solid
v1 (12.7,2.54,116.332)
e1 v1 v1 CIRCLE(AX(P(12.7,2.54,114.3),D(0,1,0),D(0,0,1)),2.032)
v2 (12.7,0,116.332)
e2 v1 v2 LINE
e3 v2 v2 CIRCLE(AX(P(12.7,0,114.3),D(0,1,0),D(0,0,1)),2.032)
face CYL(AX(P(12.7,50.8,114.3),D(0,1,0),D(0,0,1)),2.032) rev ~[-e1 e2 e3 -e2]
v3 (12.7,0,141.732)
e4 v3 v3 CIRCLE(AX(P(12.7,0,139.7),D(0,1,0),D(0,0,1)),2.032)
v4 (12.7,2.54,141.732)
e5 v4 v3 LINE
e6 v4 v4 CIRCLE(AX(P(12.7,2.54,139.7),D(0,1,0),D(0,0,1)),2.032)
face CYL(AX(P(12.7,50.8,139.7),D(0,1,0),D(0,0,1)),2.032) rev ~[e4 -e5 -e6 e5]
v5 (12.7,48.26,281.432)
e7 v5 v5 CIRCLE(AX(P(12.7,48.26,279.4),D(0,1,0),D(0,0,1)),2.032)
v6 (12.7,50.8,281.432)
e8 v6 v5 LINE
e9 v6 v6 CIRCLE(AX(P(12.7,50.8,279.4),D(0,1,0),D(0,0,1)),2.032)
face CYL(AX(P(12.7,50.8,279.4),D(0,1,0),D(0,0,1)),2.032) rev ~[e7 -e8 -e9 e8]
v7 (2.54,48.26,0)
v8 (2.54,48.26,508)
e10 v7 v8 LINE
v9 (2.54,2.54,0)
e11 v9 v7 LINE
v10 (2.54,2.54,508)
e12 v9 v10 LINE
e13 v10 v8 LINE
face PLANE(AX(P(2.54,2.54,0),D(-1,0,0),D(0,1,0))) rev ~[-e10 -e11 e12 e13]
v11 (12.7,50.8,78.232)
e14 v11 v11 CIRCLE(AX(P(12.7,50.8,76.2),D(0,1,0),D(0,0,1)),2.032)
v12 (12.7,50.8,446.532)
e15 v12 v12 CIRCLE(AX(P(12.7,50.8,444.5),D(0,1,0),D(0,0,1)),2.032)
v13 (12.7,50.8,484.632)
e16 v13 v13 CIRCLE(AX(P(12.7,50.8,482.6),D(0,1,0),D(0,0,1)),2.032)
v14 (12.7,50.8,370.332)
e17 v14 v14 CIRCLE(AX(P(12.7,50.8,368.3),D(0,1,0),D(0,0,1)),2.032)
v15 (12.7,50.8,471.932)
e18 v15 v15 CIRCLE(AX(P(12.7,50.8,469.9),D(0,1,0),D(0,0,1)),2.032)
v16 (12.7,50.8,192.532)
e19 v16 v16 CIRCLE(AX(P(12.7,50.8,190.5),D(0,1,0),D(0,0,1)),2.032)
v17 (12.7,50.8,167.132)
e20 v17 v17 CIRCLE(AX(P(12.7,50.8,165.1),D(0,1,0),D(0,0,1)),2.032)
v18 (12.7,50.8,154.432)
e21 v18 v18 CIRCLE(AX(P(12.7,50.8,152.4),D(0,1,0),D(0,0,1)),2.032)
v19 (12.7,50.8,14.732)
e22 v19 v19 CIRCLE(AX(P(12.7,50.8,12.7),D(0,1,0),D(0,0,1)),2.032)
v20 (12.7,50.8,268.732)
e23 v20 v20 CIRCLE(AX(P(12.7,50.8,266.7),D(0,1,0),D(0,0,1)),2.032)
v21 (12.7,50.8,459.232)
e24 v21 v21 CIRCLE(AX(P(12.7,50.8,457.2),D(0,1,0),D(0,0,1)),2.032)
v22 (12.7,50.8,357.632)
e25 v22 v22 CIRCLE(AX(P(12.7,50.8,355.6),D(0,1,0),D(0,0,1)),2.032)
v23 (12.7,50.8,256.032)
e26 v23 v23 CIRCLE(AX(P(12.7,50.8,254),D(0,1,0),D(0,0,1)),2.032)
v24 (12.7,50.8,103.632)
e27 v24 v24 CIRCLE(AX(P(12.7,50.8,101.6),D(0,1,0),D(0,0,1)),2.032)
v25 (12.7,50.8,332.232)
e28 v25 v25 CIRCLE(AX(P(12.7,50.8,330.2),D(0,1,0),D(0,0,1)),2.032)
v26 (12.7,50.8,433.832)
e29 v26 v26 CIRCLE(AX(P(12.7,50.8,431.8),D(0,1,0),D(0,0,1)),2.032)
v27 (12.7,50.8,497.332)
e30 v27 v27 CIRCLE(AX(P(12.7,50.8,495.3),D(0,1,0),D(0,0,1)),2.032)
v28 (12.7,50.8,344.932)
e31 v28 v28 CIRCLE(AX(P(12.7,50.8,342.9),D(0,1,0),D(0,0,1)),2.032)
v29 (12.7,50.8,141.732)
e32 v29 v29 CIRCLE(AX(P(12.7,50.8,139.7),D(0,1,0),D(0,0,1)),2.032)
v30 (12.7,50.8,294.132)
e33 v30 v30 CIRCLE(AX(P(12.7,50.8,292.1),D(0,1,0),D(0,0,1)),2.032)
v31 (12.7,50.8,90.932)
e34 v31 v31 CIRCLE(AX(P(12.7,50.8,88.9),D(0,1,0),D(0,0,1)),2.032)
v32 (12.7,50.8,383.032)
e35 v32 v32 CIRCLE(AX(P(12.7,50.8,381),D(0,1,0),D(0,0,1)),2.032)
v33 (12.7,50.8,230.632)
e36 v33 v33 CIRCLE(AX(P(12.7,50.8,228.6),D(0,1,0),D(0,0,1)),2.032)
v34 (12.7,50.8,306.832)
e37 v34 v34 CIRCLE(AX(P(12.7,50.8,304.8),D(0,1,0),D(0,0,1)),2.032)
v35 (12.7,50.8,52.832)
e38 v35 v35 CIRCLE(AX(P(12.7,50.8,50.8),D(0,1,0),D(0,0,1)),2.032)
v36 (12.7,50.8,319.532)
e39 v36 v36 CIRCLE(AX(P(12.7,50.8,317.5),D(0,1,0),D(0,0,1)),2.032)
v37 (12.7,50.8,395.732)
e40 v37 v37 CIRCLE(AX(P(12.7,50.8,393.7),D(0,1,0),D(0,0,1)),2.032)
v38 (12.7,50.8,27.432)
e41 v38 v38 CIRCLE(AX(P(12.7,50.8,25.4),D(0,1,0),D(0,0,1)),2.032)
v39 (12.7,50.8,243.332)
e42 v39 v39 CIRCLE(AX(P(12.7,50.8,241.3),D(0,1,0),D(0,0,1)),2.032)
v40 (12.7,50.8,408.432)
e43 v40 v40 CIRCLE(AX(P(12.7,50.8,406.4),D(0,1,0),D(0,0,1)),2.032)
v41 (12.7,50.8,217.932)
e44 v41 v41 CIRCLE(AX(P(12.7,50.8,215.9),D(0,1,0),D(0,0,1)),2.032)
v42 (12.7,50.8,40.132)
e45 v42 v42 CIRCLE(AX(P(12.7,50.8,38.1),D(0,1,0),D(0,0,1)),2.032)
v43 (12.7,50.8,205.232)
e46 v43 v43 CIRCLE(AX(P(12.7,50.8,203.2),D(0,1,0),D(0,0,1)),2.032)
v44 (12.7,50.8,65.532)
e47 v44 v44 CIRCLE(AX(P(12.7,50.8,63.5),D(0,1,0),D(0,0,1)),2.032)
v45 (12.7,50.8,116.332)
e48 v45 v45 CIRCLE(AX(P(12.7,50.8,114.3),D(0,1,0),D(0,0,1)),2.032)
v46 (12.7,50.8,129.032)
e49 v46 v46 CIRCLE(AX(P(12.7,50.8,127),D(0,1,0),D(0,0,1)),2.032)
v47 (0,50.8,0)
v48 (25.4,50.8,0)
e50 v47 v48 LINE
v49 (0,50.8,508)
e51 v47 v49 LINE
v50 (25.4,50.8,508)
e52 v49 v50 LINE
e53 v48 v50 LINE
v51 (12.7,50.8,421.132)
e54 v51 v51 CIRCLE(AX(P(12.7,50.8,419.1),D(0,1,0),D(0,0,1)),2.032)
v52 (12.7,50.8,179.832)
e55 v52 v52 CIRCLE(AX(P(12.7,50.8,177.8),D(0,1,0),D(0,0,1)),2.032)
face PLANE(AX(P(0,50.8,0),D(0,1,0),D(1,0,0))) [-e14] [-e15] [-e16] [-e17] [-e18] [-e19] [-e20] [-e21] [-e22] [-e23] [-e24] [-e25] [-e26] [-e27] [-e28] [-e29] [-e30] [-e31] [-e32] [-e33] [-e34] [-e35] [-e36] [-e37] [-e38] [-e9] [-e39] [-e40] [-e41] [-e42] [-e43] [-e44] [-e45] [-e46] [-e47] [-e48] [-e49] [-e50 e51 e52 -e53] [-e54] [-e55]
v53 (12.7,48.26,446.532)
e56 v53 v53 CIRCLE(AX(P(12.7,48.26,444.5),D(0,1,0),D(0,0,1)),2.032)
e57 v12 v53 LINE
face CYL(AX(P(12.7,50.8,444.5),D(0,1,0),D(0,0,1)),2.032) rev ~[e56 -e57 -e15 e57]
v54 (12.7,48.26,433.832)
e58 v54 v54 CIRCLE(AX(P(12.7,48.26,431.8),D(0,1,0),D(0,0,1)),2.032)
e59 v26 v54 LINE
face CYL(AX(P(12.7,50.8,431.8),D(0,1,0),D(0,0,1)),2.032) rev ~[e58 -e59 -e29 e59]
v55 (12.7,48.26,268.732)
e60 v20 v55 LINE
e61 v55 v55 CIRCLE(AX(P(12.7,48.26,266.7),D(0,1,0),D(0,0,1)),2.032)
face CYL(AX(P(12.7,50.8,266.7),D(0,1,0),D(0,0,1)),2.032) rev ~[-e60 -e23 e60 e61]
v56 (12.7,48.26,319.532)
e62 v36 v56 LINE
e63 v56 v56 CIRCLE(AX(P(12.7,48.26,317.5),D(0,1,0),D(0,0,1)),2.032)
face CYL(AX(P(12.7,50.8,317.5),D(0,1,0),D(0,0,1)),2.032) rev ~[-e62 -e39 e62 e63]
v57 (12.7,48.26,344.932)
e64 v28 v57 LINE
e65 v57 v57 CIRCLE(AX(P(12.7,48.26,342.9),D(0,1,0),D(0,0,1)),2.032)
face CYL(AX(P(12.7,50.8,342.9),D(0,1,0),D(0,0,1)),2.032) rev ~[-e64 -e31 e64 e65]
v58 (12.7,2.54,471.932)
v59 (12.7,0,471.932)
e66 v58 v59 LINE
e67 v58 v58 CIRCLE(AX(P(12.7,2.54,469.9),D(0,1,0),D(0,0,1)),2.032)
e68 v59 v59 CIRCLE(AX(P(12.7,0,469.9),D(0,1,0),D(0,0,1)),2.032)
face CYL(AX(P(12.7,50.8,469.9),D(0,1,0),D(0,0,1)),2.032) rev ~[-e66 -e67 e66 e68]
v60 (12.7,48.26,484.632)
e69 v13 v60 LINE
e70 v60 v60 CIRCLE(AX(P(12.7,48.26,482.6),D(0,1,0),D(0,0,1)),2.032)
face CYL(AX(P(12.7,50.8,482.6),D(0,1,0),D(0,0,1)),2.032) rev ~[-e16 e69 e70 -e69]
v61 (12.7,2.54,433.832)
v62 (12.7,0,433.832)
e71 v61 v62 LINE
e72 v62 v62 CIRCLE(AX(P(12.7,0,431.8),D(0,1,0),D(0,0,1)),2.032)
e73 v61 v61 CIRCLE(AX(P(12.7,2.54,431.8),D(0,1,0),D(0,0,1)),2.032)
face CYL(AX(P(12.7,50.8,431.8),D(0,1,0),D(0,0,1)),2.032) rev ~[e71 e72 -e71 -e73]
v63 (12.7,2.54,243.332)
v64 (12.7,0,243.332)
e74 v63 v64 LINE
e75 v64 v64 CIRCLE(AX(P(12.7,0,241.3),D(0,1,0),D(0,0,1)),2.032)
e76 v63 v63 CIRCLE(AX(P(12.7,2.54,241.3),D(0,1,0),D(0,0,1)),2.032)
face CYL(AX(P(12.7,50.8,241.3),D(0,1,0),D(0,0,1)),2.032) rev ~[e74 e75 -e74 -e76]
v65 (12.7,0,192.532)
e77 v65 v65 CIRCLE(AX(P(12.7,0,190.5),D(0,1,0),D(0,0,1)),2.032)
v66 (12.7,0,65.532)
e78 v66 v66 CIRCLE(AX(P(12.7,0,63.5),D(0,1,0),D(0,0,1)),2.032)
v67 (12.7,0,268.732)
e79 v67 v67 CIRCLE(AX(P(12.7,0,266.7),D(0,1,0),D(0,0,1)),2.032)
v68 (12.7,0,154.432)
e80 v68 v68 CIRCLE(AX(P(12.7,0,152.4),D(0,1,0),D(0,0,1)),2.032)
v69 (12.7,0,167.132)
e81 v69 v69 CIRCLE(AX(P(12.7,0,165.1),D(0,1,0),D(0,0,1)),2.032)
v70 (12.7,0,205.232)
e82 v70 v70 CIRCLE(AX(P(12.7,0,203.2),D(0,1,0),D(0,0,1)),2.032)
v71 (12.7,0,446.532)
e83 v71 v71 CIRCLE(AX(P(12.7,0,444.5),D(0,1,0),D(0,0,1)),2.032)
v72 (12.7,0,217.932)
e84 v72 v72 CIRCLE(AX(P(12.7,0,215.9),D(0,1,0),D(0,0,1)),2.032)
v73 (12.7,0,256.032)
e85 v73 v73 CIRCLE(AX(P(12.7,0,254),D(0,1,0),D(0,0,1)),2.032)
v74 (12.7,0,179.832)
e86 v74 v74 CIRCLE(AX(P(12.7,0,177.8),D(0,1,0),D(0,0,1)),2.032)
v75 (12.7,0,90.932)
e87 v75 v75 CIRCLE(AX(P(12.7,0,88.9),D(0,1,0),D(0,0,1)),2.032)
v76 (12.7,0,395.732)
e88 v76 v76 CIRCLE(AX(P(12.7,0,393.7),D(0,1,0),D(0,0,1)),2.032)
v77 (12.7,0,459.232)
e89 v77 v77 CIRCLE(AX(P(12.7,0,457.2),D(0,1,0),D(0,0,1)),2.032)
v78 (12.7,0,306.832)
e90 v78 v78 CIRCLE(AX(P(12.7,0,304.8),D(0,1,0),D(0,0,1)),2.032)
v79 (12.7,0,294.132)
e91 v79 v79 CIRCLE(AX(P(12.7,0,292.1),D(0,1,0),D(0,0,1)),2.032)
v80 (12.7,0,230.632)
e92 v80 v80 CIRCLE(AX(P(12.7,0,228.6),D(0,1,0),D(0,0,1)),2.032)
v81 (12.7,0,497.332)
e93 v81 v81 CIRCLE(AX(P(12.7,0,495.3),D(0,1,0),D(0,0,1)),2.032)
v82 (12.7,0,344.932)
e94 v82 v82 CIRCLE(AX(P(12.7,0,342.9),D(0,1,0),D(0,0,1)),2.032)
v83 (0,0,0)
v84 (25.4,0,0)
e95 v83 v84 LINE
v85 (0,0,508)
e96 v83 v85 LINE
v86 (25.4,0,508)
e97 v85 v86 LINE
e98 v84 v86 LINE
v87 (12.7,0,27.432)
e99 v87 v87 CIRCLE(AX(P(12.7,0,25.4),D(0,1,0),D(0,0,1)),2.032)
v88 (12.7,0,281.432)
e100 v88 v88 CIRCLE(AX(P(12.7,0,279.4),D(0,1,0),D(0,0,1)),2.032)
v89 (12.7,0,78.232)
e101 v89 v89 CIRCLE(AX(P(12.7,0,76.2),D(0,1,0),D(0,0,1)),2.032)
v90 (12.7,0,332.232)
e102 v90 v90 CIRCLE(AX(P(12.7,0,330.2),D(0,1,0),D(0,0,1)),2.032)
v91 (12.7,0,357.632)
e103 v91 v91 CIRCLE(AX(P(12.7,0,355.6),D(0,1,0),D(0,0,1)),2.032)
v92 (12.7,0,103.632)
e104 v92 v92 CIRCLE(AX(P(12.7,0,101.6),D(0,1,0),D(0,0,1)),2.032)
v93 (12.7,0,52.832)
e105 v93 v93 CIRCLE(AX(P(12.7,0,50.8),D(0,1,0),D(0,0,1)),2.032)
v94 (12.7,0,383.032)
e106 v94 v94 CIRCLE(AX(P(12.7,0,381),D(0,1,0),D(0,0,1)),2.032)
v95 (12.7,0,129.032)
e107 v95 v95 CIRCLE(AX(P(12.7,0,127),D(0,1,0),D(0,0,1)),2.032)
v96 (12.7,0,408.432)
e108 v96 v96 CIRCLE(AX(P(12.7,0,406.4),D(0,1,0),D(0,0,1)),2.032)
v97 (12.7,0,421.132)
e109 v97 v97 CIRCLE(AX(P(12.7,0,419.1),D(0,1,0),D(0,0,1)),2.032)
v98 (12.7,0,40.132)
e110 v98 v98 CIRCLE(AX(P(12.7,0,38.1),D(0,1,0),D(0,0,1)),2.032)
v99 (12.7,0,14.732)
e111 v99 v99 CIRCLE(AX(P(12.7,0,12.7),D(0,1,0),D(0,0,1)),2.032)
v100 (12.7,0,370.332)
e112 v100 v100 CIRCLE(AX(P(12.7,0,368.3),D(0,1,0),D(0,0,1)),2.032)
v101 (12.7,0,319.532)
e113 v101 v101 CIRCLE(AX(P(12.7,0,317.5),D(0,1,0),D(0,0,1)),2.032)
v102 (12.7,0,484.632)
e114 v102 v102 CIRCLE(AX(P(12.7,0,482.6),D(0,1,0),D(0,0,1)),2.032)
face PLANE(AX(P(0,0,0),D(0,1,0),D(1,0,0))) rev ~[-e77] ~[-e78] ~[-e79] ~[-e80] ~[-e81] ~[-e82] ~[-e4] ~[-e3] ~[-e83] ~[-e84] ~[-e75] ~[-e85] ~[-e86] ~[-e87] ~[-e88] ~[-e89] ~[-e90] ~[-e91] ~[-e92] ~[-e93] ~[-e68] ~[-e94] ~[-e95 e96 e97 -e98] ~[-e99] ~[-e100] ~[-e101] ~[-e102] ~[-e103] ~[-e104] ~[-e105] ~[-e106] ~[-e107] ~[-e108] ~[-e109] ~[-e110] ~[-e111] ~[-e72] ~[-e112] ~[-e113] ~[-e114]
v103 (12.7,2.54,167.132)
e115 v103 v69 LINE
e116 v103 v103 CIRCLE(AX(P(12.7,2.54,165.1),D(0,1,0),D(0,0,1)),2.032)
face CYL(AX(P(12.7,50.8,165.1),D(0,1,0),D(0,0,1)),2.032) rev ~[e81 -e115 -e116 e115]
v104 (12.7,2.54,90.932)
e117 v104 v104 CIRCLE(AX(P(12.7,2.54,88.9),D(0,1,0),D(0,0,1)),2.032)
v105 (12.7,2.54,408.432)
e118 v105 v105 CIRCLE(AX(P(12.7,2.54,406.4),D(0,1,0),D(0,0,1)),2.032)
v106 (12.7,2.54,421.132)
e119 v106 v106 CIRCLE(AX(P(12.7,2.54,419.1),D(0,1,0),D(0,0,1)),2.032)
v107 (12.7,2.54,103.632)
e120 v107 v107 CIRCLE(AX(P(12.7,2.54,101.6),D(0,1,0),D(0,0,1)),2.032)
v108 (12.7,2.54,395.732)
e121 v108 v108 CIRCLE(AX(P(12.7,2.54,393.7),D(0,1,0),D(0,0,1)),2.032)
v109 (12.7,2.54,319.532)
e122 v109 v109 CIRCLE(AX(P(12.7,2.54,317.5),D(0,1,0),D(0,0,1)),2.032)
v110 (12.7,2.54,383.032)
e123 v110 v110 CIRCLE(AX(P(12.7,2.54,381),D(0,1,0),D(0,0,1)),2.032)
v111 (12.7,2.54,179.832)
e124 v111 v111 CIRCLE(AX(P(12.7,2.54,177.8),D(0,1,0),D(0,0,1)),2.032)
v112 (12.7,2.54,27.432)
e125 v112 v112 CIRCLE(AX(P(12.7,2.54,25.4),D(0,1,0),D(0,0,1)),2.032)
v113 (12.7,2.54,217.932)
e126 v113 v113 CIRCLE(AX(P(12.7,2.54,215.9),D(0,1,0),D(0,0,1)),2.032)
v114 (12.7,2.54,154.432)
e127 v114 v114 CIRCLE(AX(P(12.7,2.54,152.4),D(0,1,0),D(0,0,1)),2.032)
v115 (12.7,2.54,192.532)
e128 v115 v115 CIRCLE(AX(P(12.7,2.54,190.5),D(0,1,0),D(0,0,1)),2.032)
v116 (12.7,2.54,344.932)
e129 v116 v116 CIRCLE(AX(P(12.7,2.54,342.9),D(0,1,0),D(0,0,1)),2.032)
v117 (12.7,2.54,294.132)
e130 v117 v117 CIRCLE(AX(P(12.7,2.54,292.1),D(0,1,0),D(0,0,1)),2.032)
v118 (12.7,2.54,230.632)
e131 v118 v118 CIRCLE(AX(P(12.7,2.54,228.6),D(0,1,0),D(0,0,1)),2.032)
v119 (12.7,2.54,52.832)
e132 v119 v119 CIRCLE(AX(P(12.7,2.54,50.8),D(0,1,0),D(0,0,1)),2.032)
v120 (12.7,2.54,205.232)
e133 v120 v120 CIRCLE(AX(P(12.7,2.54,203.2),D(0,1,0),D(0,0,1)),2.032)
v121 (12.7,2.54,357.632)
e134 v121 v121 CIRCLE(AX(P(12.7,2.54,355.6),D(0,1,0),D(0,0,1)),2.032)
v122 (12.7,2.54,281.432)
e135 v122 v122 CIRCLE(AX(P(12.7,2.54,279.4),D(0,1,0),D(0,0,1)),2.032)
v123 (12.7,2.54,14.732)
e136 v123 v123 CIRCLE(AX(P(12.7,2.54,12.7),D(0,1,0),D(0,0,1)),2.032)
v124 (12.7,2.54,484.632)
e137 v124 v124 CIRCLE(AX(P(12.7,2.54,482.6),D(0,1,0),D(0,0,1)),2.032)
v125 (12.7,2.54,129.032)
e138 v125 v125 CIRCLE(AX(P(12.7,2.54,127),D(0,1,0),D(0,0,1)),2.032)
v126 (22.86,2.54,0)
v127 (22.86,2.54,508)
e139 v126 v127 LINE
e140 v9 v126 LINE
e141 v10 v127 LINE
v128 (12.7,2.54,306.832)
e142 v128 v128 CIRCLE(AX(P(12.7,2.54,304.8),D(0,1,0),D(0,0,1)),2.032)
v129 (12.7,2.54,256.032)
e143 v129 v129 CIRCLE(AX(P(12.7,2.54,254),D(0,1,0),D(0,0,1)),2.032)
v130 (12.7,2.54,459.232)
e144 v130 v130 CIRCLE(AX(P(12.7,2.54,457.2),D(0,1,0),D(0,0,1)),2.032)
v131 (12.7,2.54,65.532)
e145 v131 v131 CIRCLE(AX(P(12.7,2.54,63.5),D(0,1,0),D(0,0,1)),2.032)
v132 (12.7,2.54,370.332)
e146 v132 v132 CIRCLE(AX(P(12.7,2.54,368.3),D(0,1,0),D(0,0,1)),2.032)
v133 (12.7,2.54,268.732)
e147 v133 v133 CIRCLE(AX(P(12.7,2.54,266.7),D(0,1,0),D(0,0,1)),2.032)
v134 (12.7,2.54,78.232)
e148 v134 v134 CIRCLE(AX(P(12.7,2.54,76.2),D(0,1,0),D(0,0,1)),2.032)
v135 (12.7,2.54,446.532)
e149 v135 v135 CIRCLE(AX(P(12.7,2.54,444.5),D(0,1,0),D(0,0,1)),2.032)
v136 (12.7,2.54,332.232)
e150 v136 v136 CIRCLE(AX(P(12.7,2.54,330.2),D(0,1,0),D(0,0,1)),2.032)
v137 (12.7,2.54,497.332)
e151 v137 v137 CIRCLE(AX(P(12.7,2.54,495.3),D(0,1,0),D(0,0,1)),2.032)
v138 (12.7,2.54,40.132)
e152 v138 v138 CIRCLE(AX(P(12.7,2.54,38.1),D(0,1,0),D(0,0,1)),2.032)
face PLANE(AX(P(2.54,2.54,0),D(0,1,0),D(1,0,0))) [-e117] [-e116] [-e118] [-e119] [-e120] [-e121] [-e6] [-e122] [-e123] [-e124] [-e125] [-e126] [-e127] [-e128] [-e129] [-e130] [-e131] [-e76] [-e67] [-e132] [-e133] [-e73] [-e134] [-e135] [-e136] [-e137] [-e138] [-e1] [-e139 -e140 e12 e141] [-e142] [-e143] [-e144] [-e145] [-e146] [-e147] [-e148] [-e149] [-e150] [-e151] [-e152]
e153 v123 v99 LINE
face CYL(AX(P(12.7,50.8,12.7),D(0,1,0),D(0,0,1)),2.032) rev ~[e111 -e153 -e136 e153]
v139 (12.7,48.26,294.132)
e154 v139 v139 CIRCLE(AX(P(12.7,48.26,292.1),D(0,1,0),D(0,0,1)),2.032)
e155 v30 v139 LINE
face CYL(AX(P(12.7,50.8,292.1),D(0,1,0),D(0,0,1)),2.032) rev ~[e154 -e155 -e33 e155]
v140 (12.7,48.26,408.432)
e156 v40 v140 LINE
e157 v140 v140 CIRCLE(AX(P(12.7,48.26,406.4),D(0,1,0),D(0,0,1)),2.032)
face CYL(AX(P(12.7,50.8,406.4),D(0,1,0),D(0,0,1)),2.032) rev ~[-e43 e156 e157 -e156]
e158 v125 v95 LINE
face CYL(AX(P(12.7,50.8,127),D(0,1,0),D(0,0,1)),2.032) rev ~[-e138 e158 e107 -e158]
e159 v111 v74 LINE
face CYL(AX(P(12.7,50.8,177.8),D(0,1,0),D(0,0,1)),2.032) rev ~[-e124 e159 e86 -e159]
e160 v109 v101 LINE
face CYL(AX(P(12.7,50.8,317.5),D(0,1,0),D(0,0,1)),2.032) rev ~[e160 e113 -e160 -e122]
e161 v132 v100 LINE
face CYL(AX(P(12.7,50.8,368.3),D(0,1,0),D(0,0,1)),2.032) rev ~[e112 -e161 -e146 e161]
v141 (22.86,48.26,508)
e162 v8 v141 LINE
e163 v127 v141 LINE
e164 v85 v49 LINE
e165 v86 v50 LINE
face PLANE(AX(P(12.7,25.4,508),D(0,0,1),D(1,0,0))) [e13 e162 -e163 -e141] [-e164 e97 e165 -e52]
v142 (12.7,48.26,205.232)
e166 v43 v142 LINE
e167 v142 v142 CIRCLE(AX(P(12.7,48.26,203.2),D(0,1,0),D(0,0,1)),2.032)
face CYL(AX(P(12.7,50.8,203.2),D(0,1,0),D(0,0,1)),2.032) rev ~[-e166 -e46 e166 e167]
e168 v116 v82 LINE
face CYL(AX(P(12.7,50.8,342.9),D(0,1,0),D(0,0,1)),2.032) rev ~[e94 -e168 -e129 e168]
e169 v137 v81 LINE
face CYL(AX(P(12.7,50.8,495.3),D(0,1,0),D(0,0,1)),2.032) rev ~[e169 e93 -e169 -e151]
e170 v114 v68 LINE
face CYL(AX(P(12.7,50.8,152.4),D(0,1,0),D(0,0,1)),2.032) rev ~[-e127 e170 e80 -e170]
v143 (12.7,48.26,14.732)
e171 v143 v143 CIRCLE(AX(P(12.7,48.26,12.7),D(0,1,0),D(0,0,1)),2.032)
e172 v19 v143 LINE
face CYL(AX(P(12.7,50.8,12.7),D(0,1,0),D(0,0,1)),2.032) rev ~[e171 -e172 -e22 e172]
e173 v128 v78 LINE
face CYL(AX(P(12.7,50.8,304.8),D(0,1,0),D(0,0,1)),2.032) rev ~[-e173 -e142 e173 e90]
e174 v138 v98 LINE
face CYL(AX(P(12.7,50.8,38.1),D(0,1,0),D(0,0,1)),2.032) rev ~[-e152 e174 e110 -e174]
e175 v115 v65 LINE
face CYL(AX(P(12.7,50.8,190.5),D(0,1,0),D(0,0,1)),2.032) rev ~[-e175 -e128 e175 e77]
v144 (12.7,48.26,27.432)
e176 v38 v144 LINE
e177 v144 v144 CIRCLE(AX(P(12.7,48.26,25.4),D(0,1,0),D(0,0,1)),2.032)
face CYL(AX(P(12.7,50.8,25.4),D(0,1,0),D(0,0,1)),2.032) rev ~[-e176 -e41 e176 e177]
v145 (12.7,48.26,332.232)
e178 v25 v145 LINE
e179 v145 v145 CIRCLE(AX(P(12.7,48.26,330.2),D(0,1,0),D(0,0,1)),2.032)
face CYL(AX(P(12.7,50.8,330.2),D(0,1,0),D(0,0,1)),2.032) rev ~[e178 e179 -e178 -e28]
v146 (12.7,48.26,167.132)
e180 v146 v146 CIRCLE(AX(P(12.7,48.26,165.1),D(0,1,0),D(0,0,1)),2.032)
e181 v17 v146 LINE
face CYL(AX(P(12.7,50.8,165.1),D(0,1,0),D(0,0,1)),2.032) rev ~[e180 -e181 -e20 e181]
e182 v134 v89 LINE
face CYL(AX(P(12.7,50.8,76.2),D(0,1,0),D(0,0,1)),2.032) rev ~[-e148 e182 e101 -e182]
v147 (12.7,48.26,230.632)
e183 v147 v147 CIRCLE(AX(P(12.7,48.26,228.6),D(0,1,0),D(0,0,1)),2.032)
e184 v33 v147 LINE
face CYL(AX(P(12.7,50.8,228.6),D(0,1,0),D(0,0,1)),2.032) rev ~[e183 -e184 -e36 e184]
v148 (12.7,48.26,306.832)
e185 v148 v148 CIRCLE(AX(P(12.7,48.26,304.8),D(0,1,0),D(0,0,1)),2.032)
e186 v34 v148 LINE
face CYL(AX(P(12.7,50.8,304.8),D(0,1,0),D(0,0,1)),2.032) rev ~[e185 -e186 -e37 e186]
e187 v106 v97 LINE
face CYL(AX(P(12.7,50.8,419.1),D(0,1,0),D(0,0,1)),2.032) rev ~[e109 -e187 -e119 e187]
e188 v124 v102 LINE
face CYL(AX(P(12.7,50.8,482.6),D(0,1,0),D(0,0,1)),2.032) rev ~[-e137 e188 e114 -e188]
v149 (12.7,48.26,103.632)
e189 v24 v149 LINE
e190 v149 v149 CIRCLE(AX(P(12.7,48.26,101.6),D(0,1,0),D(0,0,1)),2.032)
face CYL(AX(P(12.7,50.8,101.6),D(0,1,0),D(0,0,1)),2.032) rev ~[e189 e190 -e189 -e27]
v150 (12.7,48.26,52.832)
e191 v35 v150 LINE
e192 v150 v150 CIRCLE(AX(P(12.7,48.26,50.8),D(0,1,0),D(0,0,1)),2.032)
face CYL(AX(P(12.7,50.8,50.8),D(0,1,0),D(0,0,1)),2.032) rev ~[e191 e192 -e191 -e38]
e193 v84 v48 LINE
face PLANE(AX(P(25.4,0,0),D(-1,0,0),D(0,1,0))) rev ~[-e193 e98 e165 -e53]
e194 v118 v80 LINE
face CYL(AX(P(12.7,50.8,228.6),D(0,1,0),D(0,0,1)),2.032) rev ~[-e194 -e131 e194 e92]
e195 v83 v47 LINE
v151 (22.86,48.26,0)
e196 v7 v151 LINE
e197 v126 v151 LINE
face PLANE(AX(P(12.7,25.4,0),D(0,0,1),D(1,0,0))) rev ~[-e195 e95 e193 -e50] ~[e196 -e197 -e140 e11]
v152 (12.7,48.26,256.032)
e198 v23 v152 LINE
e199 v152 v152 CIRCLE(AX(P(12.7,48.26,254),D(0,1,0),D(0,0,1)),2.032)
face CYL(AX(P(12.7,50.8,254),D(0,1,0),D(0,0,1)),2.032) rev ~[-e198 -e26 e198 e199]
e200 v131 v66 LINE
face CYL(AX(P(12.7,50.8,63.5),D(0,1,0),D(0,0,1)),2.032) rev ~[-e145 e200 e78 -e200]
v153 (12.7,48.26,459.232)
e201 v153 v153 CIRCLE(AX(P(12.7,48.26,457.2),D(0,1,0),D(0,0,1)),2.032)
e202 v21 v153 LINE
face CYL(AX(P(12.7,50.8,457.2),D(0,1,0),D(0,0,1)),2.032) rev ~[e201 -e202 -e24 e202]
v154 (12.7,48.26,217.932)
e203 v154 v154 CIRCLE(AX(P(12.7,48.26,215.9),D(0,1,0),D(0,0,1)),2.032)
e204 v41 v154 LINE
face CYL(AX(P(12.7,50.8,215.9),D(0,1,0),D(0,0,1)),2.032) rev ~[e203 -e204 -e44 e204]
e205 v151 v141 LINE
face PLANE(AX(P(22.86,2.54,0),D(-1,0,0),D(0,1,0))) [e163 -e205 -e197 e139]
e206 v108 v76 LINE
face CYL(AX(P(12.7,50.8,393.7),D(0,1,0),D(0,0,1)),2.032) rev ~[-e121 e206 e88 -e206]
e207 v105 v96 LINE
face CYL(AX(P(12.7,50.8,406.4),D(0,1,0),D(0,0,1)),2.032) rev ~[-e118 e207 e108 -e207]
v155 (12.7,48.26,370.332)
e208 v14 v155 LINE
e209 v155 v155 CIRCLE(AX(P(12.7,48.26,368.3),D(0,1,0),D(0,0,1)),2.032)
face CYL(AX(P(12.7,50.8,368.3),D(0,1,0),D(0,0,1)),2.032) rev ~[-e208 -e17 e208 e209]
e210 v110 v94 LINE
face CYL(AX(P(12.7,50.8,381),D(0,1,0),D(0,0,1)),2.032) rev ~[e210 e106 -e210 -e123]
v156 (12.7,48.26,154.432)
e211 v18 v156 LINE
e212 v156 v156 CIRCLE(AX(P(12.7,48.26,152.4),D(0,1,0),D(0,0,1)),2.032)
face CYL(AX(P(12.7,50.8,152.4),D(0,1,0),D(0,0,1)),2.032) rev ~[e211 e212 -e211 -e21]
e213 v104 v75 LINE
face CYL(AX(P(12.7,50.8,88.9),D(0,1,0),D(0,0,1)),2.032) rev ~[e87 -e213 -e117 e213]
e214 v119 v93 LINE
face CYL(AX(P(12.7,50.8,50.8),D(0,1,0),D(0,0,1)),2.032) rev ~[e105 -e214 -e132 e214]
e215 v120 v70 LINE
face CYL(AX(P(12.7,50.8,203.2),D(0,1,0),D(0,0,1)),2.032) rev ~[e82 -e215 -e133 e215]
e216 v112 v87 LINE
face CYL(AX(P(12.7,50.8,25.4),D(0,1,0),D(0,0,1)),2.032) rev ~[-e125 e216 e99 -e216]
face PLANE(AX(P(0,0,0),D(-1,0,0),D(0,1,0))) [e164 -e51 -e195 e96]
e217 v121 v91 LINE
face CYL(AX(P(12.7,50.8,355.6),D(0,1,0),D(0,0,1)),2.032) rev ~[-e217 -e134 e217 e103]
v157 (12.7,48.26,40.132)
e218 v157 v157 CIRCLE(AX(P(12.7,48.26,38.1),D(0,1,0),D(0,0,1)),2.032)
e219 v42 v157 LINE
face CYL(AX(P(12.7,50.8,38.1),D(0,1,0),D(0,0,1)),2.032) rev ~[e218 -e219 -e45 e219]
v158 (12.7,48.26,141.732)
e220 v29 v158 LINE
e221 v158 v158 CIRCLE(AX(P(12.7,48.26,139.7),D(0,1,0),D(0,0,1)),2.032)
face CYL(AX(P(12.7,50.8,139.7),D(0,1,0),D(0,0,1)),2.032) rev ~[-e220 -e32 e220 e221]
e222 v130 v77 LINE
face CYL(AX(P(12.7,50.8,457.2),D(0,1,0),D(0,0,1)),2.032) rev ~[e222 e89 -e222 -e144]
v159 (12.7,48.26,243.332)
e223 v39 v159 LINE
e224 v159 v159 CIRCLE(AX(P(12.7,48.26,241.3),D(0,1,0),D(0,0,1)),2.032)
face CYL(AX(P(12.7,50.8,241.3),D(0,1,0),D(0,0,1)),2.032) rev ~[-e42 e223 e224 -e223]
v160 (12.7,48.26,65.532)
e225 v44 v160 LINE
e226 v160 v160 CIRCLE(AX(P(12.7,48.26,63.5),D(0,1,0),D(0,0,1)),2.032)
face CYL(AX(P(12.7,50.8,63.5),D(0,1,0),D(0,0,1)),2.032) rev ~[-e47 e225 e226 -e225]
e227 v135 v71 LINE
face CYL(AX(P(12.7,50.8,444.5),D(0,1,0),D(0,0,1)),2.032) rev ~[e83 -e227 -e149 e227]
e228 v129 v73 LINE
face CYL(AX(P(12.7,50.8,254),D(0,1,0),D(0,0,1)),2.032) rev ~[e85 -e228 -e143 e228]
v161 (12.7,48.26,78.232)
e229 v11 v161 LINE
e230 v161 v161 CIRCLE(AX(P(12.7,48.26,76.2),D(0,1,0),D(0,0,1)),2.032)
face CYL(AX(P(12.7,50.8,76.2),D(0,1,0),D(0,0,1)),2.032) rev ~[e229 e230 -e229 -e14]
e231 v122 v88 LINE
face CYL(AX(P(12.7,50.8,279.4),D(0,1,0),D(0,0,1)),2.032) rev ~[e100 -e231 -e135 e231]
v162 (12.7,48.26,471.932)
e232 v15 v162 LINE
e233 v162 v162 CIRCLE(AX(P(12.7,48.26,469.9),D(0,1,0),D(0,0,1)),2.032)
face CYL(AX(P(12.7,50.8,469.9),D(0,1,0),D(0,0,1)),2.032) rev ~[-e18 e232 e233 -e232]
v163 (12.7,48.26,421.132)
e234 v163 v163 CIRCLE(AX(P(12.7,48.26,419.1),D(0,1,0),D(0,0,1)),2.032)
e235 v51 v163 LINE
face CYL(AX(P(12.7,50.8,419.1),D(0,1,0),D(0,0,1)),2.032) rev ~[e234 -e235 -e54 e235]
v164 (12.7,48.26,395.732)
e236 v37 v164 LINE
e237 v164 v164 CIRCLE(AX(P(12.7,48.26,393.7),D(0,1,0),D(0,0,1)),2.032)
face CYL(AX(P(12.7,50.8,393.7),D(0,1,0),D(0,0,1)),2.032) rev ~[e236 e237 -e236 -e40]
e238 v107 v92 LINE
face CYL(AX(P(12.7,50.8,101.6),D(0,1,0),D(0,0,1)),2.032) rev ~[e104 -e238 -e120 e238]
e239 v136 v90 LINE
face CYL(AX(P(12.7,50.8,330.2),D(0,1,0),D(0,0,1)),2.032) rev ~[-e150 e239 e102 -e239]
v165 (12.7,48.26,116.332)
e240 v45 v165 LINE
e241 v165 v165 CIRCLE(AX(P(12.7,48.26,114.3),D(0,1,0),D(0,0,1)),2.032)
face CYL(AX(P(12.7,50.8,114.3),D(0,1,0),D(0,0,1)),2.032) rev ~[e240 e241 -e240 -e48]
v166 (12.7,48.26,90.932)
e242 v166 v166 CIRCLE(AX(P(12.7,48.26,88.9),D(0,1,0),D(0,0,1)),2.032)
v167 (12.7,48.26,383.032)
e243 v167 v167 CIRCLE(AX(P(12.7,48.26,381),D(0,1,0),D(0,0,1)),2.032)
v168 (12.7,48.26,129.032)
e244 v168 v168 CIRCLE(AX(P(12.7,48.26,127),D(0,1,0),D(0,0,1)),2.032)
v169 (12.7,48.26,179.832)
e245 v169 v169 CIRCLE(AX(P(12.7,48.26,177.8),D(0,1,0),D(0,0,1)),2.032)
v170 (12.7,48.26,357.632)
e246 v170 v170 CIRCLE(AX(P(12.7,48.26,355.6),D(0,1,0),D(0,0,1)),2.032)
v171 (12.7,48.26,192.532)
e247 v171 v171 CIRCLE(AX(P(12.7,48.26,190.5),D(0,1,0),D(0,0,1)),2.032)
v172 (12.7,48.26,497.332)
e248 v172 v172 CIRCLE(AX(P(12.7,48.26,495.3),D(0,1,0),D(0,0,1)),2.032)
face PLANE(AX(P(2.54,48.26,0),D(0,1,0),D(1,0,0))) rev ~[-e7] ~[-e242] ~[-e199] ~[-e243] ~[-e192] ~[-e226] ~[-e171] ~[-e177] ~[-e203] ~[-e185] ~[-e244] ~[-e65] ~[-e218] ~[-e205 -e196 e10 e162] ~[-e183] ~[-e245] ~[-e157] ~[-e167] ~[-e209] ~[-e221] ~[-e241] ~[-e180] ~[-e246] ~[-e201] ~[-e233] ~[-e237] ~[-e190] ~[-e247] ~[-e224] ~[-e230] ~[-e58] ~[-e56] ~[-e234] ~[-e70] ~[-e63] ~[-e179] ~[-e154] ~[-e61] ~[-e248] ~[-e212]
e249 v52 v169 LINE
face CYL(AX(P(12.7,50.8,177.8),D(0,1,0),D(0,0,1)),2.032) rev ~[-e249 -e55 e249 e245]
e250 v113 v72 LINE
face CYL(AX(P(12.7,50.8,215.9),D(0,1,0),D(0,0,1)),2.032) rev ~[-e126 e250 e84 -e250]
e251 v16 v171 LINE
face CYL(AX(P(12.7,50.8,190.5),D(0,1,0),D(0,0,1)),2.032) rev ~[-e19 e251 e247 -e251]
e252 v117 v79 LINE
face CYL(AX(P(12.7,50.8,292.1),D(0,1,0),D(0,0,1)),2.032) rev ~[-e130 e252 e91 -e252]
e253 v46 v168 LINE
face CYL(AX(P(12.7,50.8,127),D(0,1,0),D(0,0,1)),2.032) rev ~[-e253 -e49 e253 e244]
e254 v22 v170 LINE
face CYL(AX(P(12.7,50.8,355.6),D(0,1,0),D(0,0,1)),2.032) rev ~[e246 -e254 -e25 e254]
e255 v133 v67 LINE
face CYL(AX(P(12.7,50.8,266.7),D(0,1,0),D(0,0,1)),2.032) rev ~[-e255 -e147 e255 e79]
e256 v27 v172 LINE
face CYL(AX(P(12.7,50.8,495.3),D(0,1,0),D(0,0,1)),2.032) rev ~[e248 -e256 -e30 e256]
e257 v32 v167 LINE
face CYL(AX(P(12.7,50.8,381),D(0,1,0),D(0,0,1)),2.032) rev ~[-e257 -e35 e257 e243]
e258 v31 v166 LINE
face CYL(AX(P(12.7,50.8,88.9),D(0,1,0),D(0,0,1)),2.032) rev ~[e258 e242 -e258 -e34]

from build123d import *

# Parameters (mm, degrees)
SKETCH1_W           = 25.4
SKETCH1_H           = 50.8
SKETCH1_W_2         = 20.32
SKETCH1_H_2         = 45.72
BOSS_EXTRUDE1_DEPTH = 508
SKETCH2_R           = 2.032
CUT_EXTRUDE1_DEPTH  = 508


with BuildPart() as part:
    # Sketch1 → Boss-Extrude1 (new body)
    with BuildSketch(Plane.XY):
        with Locations((12.7, 25.4)):
            Rectangle(SKETCH1_W, SKETCH1_H)
        with Locations((12.7, 25.4)):
            Rectangle(SKETCH1_W_2, SKETCH1_H_2, mode=Mode.SUBTRACT)
    extrude(amount=BOSS_EXTRUDE1_DEPTH)

    # Sketch2 → Cut-Extrude1 (cut)
    with BuildSketch(Plane(origin=(0, 50.8, 0), x_dir=(1, 0, 0), z_dir=(0, 1, 0))):
        with Locations(Location((12.7, -12.7, 0), (0, 0, 270))):
            Circle(SKETCH2_R)
        with Locations(Location((12.7, -25.4, 0), (0, 0, 270))):
            Circle(SKETCH2_R)
        with Locations(Location((12.7, -38.1, 0), (0, 0, 270))):
            Circle(SKETCH2_R)
        with Locations(Location((12.7, -50.8, 0), (0, 0, 270))):
            Circle(SKETCH2_R)
        with Locations(Location((12.7, -63.5, 0), (0, 0, 270))):
            Circle(SKETCH2_R)
        with Locations(Location((12.7, -76.2, 0), (0, 0, 270))):
            Circle(SKETCH2_R)
        with Locations(Location((12.7, -88.9, 0), (0, 0, 270))):
            Circle(SKETCH2_R)
        with Locations(Location((12.7, -101.6, 0), (0, 0, 270))):
            Circle(SKETCH2_R)
        with Locations(Location((12.7, -114.3, 0), (0, 0, 270))):
            Circle(SKETCH2_R)
        with Locations(Location((12.7, -127, 0), (0, 0, 270))):
            Circle(SKETCH2_R)
        with Locations(Location((12.7, -139.7, 0), (0, 0, 270))):
            Circle(SKETCH2_R)
        with Locations(Location((12.7, -152.4, 0), (0, 0, 270))):
            Circle(SKETCH2_R)
        with Locations(Location((12.7, -165.1, 0), (0, 0, 270))):
            Circle(SKETCH2_R)
        with Locations(Location((12.7, -177.8, 0), (0, 0, 270))):
            Circle(SKETCH2_R)
        with Locations(Location((12.7, -190.5, 0), (0, 0, 270))):
            Circle(SKETCH2_R)
        with Locations(Location((12.7, -203.2, 0), (0, 0, 270))):
            Circle(SKETCH2_R)
        with Locations(Location((12.7, -215.9, 0), (0, 0, 270))):
            Circle(SKETCH2_R)
        with Locations(Location((12.7, -228.6, 0), (0, 0, 270))):
            Circle(SKETCH2_R)
        with Locations(Location((12.7, -241.3, 0), (0, 0, 270))):
            Circle(SKETCH2_R)
        with Locations(Location((12.7, -254, 0), (0, 0, 270))):
            Circle(SKETCH2_R)
        with Locations(Location((12.7, -266.7, 0), (0, 0, 270))):
            Circle(SKETCH2_R)
        with Locations(Location((12.7, -279.4, 0), (0, 0, 270))):
            Circle(SKETCH2_R)
        with Locations(Location((12.7, -292.1, 0), (0, 0, 270))):
            Circle(SKETCH2_R)
        with Locations(Location((12.7, -304.8, 0), (0, 0, 270))):
            Circle(SKETCH2_R)
        with Locations(Location((12.7, -317.5, 0), (0, 0, 270))):
            Circle(SKETCH2_R)
        with Locations(Location((12.7, -330.2, 0), (0, 0, 270))):
            Circle(SKETCH2_R)
        with Locations(Location((12.7, -342.9, 0), (0, 0, 270))):
            Circle(SKETCH2_R)
        with Locations(Location((12.7, -355.6, 0), (0, 0, 270))):
            Circle(SKETCH2_R)
        with Locations(Location((12.7, -368.3, 0), (0, 0, 270))):
            Circle(SKETCH2_R)
        with Locations(Location((12.7, -381, 0), (0, 0, 270))):
            Circle(SKETCH2_R)
        with Locations(Location((12.7, -393.7, 0), (0, 0, 270))):
            Circle(SKETCH2_R)
        with Locations(Location((12.7, -406.4, 0), (0, 0, 270))):
            Circle(SKETCH2_R)
        with Locations(Location((12.7, -419.1, 0), (0, 0, 270))):
            Circle(SKETCH2_R)
        with Locations(Location((12.7, -431.8, 0), (0, 0, 270))):
            Circle(SKETCH2_R)
        with Locations(Location((12.7, -444.5, 0), (0, 0, 270))):
            Circle(SKETCH2_R)
        with Locations(Location((12.7, -457.2, 0), (0, 0, 270))):
            Circle(SKETCH2_R)
        with Locations(Location((12.7, -469.9, 0), (0, 0, 270))):
            Circle(SKETCH2_R)
        with Locations(Location((12.7, -482.6, 0), (0, 0, 270))):
            Circle(SKETCH2_R)
        with Locations(Location((12.7, -495.3, 0), (0, 0, 270))):
            Circle(SKETCH2_R)
    extrude(amount=-CUT_EXTRUDE1_DEPTH, mode=Mode.SUBTRACT)


solid = part.part
